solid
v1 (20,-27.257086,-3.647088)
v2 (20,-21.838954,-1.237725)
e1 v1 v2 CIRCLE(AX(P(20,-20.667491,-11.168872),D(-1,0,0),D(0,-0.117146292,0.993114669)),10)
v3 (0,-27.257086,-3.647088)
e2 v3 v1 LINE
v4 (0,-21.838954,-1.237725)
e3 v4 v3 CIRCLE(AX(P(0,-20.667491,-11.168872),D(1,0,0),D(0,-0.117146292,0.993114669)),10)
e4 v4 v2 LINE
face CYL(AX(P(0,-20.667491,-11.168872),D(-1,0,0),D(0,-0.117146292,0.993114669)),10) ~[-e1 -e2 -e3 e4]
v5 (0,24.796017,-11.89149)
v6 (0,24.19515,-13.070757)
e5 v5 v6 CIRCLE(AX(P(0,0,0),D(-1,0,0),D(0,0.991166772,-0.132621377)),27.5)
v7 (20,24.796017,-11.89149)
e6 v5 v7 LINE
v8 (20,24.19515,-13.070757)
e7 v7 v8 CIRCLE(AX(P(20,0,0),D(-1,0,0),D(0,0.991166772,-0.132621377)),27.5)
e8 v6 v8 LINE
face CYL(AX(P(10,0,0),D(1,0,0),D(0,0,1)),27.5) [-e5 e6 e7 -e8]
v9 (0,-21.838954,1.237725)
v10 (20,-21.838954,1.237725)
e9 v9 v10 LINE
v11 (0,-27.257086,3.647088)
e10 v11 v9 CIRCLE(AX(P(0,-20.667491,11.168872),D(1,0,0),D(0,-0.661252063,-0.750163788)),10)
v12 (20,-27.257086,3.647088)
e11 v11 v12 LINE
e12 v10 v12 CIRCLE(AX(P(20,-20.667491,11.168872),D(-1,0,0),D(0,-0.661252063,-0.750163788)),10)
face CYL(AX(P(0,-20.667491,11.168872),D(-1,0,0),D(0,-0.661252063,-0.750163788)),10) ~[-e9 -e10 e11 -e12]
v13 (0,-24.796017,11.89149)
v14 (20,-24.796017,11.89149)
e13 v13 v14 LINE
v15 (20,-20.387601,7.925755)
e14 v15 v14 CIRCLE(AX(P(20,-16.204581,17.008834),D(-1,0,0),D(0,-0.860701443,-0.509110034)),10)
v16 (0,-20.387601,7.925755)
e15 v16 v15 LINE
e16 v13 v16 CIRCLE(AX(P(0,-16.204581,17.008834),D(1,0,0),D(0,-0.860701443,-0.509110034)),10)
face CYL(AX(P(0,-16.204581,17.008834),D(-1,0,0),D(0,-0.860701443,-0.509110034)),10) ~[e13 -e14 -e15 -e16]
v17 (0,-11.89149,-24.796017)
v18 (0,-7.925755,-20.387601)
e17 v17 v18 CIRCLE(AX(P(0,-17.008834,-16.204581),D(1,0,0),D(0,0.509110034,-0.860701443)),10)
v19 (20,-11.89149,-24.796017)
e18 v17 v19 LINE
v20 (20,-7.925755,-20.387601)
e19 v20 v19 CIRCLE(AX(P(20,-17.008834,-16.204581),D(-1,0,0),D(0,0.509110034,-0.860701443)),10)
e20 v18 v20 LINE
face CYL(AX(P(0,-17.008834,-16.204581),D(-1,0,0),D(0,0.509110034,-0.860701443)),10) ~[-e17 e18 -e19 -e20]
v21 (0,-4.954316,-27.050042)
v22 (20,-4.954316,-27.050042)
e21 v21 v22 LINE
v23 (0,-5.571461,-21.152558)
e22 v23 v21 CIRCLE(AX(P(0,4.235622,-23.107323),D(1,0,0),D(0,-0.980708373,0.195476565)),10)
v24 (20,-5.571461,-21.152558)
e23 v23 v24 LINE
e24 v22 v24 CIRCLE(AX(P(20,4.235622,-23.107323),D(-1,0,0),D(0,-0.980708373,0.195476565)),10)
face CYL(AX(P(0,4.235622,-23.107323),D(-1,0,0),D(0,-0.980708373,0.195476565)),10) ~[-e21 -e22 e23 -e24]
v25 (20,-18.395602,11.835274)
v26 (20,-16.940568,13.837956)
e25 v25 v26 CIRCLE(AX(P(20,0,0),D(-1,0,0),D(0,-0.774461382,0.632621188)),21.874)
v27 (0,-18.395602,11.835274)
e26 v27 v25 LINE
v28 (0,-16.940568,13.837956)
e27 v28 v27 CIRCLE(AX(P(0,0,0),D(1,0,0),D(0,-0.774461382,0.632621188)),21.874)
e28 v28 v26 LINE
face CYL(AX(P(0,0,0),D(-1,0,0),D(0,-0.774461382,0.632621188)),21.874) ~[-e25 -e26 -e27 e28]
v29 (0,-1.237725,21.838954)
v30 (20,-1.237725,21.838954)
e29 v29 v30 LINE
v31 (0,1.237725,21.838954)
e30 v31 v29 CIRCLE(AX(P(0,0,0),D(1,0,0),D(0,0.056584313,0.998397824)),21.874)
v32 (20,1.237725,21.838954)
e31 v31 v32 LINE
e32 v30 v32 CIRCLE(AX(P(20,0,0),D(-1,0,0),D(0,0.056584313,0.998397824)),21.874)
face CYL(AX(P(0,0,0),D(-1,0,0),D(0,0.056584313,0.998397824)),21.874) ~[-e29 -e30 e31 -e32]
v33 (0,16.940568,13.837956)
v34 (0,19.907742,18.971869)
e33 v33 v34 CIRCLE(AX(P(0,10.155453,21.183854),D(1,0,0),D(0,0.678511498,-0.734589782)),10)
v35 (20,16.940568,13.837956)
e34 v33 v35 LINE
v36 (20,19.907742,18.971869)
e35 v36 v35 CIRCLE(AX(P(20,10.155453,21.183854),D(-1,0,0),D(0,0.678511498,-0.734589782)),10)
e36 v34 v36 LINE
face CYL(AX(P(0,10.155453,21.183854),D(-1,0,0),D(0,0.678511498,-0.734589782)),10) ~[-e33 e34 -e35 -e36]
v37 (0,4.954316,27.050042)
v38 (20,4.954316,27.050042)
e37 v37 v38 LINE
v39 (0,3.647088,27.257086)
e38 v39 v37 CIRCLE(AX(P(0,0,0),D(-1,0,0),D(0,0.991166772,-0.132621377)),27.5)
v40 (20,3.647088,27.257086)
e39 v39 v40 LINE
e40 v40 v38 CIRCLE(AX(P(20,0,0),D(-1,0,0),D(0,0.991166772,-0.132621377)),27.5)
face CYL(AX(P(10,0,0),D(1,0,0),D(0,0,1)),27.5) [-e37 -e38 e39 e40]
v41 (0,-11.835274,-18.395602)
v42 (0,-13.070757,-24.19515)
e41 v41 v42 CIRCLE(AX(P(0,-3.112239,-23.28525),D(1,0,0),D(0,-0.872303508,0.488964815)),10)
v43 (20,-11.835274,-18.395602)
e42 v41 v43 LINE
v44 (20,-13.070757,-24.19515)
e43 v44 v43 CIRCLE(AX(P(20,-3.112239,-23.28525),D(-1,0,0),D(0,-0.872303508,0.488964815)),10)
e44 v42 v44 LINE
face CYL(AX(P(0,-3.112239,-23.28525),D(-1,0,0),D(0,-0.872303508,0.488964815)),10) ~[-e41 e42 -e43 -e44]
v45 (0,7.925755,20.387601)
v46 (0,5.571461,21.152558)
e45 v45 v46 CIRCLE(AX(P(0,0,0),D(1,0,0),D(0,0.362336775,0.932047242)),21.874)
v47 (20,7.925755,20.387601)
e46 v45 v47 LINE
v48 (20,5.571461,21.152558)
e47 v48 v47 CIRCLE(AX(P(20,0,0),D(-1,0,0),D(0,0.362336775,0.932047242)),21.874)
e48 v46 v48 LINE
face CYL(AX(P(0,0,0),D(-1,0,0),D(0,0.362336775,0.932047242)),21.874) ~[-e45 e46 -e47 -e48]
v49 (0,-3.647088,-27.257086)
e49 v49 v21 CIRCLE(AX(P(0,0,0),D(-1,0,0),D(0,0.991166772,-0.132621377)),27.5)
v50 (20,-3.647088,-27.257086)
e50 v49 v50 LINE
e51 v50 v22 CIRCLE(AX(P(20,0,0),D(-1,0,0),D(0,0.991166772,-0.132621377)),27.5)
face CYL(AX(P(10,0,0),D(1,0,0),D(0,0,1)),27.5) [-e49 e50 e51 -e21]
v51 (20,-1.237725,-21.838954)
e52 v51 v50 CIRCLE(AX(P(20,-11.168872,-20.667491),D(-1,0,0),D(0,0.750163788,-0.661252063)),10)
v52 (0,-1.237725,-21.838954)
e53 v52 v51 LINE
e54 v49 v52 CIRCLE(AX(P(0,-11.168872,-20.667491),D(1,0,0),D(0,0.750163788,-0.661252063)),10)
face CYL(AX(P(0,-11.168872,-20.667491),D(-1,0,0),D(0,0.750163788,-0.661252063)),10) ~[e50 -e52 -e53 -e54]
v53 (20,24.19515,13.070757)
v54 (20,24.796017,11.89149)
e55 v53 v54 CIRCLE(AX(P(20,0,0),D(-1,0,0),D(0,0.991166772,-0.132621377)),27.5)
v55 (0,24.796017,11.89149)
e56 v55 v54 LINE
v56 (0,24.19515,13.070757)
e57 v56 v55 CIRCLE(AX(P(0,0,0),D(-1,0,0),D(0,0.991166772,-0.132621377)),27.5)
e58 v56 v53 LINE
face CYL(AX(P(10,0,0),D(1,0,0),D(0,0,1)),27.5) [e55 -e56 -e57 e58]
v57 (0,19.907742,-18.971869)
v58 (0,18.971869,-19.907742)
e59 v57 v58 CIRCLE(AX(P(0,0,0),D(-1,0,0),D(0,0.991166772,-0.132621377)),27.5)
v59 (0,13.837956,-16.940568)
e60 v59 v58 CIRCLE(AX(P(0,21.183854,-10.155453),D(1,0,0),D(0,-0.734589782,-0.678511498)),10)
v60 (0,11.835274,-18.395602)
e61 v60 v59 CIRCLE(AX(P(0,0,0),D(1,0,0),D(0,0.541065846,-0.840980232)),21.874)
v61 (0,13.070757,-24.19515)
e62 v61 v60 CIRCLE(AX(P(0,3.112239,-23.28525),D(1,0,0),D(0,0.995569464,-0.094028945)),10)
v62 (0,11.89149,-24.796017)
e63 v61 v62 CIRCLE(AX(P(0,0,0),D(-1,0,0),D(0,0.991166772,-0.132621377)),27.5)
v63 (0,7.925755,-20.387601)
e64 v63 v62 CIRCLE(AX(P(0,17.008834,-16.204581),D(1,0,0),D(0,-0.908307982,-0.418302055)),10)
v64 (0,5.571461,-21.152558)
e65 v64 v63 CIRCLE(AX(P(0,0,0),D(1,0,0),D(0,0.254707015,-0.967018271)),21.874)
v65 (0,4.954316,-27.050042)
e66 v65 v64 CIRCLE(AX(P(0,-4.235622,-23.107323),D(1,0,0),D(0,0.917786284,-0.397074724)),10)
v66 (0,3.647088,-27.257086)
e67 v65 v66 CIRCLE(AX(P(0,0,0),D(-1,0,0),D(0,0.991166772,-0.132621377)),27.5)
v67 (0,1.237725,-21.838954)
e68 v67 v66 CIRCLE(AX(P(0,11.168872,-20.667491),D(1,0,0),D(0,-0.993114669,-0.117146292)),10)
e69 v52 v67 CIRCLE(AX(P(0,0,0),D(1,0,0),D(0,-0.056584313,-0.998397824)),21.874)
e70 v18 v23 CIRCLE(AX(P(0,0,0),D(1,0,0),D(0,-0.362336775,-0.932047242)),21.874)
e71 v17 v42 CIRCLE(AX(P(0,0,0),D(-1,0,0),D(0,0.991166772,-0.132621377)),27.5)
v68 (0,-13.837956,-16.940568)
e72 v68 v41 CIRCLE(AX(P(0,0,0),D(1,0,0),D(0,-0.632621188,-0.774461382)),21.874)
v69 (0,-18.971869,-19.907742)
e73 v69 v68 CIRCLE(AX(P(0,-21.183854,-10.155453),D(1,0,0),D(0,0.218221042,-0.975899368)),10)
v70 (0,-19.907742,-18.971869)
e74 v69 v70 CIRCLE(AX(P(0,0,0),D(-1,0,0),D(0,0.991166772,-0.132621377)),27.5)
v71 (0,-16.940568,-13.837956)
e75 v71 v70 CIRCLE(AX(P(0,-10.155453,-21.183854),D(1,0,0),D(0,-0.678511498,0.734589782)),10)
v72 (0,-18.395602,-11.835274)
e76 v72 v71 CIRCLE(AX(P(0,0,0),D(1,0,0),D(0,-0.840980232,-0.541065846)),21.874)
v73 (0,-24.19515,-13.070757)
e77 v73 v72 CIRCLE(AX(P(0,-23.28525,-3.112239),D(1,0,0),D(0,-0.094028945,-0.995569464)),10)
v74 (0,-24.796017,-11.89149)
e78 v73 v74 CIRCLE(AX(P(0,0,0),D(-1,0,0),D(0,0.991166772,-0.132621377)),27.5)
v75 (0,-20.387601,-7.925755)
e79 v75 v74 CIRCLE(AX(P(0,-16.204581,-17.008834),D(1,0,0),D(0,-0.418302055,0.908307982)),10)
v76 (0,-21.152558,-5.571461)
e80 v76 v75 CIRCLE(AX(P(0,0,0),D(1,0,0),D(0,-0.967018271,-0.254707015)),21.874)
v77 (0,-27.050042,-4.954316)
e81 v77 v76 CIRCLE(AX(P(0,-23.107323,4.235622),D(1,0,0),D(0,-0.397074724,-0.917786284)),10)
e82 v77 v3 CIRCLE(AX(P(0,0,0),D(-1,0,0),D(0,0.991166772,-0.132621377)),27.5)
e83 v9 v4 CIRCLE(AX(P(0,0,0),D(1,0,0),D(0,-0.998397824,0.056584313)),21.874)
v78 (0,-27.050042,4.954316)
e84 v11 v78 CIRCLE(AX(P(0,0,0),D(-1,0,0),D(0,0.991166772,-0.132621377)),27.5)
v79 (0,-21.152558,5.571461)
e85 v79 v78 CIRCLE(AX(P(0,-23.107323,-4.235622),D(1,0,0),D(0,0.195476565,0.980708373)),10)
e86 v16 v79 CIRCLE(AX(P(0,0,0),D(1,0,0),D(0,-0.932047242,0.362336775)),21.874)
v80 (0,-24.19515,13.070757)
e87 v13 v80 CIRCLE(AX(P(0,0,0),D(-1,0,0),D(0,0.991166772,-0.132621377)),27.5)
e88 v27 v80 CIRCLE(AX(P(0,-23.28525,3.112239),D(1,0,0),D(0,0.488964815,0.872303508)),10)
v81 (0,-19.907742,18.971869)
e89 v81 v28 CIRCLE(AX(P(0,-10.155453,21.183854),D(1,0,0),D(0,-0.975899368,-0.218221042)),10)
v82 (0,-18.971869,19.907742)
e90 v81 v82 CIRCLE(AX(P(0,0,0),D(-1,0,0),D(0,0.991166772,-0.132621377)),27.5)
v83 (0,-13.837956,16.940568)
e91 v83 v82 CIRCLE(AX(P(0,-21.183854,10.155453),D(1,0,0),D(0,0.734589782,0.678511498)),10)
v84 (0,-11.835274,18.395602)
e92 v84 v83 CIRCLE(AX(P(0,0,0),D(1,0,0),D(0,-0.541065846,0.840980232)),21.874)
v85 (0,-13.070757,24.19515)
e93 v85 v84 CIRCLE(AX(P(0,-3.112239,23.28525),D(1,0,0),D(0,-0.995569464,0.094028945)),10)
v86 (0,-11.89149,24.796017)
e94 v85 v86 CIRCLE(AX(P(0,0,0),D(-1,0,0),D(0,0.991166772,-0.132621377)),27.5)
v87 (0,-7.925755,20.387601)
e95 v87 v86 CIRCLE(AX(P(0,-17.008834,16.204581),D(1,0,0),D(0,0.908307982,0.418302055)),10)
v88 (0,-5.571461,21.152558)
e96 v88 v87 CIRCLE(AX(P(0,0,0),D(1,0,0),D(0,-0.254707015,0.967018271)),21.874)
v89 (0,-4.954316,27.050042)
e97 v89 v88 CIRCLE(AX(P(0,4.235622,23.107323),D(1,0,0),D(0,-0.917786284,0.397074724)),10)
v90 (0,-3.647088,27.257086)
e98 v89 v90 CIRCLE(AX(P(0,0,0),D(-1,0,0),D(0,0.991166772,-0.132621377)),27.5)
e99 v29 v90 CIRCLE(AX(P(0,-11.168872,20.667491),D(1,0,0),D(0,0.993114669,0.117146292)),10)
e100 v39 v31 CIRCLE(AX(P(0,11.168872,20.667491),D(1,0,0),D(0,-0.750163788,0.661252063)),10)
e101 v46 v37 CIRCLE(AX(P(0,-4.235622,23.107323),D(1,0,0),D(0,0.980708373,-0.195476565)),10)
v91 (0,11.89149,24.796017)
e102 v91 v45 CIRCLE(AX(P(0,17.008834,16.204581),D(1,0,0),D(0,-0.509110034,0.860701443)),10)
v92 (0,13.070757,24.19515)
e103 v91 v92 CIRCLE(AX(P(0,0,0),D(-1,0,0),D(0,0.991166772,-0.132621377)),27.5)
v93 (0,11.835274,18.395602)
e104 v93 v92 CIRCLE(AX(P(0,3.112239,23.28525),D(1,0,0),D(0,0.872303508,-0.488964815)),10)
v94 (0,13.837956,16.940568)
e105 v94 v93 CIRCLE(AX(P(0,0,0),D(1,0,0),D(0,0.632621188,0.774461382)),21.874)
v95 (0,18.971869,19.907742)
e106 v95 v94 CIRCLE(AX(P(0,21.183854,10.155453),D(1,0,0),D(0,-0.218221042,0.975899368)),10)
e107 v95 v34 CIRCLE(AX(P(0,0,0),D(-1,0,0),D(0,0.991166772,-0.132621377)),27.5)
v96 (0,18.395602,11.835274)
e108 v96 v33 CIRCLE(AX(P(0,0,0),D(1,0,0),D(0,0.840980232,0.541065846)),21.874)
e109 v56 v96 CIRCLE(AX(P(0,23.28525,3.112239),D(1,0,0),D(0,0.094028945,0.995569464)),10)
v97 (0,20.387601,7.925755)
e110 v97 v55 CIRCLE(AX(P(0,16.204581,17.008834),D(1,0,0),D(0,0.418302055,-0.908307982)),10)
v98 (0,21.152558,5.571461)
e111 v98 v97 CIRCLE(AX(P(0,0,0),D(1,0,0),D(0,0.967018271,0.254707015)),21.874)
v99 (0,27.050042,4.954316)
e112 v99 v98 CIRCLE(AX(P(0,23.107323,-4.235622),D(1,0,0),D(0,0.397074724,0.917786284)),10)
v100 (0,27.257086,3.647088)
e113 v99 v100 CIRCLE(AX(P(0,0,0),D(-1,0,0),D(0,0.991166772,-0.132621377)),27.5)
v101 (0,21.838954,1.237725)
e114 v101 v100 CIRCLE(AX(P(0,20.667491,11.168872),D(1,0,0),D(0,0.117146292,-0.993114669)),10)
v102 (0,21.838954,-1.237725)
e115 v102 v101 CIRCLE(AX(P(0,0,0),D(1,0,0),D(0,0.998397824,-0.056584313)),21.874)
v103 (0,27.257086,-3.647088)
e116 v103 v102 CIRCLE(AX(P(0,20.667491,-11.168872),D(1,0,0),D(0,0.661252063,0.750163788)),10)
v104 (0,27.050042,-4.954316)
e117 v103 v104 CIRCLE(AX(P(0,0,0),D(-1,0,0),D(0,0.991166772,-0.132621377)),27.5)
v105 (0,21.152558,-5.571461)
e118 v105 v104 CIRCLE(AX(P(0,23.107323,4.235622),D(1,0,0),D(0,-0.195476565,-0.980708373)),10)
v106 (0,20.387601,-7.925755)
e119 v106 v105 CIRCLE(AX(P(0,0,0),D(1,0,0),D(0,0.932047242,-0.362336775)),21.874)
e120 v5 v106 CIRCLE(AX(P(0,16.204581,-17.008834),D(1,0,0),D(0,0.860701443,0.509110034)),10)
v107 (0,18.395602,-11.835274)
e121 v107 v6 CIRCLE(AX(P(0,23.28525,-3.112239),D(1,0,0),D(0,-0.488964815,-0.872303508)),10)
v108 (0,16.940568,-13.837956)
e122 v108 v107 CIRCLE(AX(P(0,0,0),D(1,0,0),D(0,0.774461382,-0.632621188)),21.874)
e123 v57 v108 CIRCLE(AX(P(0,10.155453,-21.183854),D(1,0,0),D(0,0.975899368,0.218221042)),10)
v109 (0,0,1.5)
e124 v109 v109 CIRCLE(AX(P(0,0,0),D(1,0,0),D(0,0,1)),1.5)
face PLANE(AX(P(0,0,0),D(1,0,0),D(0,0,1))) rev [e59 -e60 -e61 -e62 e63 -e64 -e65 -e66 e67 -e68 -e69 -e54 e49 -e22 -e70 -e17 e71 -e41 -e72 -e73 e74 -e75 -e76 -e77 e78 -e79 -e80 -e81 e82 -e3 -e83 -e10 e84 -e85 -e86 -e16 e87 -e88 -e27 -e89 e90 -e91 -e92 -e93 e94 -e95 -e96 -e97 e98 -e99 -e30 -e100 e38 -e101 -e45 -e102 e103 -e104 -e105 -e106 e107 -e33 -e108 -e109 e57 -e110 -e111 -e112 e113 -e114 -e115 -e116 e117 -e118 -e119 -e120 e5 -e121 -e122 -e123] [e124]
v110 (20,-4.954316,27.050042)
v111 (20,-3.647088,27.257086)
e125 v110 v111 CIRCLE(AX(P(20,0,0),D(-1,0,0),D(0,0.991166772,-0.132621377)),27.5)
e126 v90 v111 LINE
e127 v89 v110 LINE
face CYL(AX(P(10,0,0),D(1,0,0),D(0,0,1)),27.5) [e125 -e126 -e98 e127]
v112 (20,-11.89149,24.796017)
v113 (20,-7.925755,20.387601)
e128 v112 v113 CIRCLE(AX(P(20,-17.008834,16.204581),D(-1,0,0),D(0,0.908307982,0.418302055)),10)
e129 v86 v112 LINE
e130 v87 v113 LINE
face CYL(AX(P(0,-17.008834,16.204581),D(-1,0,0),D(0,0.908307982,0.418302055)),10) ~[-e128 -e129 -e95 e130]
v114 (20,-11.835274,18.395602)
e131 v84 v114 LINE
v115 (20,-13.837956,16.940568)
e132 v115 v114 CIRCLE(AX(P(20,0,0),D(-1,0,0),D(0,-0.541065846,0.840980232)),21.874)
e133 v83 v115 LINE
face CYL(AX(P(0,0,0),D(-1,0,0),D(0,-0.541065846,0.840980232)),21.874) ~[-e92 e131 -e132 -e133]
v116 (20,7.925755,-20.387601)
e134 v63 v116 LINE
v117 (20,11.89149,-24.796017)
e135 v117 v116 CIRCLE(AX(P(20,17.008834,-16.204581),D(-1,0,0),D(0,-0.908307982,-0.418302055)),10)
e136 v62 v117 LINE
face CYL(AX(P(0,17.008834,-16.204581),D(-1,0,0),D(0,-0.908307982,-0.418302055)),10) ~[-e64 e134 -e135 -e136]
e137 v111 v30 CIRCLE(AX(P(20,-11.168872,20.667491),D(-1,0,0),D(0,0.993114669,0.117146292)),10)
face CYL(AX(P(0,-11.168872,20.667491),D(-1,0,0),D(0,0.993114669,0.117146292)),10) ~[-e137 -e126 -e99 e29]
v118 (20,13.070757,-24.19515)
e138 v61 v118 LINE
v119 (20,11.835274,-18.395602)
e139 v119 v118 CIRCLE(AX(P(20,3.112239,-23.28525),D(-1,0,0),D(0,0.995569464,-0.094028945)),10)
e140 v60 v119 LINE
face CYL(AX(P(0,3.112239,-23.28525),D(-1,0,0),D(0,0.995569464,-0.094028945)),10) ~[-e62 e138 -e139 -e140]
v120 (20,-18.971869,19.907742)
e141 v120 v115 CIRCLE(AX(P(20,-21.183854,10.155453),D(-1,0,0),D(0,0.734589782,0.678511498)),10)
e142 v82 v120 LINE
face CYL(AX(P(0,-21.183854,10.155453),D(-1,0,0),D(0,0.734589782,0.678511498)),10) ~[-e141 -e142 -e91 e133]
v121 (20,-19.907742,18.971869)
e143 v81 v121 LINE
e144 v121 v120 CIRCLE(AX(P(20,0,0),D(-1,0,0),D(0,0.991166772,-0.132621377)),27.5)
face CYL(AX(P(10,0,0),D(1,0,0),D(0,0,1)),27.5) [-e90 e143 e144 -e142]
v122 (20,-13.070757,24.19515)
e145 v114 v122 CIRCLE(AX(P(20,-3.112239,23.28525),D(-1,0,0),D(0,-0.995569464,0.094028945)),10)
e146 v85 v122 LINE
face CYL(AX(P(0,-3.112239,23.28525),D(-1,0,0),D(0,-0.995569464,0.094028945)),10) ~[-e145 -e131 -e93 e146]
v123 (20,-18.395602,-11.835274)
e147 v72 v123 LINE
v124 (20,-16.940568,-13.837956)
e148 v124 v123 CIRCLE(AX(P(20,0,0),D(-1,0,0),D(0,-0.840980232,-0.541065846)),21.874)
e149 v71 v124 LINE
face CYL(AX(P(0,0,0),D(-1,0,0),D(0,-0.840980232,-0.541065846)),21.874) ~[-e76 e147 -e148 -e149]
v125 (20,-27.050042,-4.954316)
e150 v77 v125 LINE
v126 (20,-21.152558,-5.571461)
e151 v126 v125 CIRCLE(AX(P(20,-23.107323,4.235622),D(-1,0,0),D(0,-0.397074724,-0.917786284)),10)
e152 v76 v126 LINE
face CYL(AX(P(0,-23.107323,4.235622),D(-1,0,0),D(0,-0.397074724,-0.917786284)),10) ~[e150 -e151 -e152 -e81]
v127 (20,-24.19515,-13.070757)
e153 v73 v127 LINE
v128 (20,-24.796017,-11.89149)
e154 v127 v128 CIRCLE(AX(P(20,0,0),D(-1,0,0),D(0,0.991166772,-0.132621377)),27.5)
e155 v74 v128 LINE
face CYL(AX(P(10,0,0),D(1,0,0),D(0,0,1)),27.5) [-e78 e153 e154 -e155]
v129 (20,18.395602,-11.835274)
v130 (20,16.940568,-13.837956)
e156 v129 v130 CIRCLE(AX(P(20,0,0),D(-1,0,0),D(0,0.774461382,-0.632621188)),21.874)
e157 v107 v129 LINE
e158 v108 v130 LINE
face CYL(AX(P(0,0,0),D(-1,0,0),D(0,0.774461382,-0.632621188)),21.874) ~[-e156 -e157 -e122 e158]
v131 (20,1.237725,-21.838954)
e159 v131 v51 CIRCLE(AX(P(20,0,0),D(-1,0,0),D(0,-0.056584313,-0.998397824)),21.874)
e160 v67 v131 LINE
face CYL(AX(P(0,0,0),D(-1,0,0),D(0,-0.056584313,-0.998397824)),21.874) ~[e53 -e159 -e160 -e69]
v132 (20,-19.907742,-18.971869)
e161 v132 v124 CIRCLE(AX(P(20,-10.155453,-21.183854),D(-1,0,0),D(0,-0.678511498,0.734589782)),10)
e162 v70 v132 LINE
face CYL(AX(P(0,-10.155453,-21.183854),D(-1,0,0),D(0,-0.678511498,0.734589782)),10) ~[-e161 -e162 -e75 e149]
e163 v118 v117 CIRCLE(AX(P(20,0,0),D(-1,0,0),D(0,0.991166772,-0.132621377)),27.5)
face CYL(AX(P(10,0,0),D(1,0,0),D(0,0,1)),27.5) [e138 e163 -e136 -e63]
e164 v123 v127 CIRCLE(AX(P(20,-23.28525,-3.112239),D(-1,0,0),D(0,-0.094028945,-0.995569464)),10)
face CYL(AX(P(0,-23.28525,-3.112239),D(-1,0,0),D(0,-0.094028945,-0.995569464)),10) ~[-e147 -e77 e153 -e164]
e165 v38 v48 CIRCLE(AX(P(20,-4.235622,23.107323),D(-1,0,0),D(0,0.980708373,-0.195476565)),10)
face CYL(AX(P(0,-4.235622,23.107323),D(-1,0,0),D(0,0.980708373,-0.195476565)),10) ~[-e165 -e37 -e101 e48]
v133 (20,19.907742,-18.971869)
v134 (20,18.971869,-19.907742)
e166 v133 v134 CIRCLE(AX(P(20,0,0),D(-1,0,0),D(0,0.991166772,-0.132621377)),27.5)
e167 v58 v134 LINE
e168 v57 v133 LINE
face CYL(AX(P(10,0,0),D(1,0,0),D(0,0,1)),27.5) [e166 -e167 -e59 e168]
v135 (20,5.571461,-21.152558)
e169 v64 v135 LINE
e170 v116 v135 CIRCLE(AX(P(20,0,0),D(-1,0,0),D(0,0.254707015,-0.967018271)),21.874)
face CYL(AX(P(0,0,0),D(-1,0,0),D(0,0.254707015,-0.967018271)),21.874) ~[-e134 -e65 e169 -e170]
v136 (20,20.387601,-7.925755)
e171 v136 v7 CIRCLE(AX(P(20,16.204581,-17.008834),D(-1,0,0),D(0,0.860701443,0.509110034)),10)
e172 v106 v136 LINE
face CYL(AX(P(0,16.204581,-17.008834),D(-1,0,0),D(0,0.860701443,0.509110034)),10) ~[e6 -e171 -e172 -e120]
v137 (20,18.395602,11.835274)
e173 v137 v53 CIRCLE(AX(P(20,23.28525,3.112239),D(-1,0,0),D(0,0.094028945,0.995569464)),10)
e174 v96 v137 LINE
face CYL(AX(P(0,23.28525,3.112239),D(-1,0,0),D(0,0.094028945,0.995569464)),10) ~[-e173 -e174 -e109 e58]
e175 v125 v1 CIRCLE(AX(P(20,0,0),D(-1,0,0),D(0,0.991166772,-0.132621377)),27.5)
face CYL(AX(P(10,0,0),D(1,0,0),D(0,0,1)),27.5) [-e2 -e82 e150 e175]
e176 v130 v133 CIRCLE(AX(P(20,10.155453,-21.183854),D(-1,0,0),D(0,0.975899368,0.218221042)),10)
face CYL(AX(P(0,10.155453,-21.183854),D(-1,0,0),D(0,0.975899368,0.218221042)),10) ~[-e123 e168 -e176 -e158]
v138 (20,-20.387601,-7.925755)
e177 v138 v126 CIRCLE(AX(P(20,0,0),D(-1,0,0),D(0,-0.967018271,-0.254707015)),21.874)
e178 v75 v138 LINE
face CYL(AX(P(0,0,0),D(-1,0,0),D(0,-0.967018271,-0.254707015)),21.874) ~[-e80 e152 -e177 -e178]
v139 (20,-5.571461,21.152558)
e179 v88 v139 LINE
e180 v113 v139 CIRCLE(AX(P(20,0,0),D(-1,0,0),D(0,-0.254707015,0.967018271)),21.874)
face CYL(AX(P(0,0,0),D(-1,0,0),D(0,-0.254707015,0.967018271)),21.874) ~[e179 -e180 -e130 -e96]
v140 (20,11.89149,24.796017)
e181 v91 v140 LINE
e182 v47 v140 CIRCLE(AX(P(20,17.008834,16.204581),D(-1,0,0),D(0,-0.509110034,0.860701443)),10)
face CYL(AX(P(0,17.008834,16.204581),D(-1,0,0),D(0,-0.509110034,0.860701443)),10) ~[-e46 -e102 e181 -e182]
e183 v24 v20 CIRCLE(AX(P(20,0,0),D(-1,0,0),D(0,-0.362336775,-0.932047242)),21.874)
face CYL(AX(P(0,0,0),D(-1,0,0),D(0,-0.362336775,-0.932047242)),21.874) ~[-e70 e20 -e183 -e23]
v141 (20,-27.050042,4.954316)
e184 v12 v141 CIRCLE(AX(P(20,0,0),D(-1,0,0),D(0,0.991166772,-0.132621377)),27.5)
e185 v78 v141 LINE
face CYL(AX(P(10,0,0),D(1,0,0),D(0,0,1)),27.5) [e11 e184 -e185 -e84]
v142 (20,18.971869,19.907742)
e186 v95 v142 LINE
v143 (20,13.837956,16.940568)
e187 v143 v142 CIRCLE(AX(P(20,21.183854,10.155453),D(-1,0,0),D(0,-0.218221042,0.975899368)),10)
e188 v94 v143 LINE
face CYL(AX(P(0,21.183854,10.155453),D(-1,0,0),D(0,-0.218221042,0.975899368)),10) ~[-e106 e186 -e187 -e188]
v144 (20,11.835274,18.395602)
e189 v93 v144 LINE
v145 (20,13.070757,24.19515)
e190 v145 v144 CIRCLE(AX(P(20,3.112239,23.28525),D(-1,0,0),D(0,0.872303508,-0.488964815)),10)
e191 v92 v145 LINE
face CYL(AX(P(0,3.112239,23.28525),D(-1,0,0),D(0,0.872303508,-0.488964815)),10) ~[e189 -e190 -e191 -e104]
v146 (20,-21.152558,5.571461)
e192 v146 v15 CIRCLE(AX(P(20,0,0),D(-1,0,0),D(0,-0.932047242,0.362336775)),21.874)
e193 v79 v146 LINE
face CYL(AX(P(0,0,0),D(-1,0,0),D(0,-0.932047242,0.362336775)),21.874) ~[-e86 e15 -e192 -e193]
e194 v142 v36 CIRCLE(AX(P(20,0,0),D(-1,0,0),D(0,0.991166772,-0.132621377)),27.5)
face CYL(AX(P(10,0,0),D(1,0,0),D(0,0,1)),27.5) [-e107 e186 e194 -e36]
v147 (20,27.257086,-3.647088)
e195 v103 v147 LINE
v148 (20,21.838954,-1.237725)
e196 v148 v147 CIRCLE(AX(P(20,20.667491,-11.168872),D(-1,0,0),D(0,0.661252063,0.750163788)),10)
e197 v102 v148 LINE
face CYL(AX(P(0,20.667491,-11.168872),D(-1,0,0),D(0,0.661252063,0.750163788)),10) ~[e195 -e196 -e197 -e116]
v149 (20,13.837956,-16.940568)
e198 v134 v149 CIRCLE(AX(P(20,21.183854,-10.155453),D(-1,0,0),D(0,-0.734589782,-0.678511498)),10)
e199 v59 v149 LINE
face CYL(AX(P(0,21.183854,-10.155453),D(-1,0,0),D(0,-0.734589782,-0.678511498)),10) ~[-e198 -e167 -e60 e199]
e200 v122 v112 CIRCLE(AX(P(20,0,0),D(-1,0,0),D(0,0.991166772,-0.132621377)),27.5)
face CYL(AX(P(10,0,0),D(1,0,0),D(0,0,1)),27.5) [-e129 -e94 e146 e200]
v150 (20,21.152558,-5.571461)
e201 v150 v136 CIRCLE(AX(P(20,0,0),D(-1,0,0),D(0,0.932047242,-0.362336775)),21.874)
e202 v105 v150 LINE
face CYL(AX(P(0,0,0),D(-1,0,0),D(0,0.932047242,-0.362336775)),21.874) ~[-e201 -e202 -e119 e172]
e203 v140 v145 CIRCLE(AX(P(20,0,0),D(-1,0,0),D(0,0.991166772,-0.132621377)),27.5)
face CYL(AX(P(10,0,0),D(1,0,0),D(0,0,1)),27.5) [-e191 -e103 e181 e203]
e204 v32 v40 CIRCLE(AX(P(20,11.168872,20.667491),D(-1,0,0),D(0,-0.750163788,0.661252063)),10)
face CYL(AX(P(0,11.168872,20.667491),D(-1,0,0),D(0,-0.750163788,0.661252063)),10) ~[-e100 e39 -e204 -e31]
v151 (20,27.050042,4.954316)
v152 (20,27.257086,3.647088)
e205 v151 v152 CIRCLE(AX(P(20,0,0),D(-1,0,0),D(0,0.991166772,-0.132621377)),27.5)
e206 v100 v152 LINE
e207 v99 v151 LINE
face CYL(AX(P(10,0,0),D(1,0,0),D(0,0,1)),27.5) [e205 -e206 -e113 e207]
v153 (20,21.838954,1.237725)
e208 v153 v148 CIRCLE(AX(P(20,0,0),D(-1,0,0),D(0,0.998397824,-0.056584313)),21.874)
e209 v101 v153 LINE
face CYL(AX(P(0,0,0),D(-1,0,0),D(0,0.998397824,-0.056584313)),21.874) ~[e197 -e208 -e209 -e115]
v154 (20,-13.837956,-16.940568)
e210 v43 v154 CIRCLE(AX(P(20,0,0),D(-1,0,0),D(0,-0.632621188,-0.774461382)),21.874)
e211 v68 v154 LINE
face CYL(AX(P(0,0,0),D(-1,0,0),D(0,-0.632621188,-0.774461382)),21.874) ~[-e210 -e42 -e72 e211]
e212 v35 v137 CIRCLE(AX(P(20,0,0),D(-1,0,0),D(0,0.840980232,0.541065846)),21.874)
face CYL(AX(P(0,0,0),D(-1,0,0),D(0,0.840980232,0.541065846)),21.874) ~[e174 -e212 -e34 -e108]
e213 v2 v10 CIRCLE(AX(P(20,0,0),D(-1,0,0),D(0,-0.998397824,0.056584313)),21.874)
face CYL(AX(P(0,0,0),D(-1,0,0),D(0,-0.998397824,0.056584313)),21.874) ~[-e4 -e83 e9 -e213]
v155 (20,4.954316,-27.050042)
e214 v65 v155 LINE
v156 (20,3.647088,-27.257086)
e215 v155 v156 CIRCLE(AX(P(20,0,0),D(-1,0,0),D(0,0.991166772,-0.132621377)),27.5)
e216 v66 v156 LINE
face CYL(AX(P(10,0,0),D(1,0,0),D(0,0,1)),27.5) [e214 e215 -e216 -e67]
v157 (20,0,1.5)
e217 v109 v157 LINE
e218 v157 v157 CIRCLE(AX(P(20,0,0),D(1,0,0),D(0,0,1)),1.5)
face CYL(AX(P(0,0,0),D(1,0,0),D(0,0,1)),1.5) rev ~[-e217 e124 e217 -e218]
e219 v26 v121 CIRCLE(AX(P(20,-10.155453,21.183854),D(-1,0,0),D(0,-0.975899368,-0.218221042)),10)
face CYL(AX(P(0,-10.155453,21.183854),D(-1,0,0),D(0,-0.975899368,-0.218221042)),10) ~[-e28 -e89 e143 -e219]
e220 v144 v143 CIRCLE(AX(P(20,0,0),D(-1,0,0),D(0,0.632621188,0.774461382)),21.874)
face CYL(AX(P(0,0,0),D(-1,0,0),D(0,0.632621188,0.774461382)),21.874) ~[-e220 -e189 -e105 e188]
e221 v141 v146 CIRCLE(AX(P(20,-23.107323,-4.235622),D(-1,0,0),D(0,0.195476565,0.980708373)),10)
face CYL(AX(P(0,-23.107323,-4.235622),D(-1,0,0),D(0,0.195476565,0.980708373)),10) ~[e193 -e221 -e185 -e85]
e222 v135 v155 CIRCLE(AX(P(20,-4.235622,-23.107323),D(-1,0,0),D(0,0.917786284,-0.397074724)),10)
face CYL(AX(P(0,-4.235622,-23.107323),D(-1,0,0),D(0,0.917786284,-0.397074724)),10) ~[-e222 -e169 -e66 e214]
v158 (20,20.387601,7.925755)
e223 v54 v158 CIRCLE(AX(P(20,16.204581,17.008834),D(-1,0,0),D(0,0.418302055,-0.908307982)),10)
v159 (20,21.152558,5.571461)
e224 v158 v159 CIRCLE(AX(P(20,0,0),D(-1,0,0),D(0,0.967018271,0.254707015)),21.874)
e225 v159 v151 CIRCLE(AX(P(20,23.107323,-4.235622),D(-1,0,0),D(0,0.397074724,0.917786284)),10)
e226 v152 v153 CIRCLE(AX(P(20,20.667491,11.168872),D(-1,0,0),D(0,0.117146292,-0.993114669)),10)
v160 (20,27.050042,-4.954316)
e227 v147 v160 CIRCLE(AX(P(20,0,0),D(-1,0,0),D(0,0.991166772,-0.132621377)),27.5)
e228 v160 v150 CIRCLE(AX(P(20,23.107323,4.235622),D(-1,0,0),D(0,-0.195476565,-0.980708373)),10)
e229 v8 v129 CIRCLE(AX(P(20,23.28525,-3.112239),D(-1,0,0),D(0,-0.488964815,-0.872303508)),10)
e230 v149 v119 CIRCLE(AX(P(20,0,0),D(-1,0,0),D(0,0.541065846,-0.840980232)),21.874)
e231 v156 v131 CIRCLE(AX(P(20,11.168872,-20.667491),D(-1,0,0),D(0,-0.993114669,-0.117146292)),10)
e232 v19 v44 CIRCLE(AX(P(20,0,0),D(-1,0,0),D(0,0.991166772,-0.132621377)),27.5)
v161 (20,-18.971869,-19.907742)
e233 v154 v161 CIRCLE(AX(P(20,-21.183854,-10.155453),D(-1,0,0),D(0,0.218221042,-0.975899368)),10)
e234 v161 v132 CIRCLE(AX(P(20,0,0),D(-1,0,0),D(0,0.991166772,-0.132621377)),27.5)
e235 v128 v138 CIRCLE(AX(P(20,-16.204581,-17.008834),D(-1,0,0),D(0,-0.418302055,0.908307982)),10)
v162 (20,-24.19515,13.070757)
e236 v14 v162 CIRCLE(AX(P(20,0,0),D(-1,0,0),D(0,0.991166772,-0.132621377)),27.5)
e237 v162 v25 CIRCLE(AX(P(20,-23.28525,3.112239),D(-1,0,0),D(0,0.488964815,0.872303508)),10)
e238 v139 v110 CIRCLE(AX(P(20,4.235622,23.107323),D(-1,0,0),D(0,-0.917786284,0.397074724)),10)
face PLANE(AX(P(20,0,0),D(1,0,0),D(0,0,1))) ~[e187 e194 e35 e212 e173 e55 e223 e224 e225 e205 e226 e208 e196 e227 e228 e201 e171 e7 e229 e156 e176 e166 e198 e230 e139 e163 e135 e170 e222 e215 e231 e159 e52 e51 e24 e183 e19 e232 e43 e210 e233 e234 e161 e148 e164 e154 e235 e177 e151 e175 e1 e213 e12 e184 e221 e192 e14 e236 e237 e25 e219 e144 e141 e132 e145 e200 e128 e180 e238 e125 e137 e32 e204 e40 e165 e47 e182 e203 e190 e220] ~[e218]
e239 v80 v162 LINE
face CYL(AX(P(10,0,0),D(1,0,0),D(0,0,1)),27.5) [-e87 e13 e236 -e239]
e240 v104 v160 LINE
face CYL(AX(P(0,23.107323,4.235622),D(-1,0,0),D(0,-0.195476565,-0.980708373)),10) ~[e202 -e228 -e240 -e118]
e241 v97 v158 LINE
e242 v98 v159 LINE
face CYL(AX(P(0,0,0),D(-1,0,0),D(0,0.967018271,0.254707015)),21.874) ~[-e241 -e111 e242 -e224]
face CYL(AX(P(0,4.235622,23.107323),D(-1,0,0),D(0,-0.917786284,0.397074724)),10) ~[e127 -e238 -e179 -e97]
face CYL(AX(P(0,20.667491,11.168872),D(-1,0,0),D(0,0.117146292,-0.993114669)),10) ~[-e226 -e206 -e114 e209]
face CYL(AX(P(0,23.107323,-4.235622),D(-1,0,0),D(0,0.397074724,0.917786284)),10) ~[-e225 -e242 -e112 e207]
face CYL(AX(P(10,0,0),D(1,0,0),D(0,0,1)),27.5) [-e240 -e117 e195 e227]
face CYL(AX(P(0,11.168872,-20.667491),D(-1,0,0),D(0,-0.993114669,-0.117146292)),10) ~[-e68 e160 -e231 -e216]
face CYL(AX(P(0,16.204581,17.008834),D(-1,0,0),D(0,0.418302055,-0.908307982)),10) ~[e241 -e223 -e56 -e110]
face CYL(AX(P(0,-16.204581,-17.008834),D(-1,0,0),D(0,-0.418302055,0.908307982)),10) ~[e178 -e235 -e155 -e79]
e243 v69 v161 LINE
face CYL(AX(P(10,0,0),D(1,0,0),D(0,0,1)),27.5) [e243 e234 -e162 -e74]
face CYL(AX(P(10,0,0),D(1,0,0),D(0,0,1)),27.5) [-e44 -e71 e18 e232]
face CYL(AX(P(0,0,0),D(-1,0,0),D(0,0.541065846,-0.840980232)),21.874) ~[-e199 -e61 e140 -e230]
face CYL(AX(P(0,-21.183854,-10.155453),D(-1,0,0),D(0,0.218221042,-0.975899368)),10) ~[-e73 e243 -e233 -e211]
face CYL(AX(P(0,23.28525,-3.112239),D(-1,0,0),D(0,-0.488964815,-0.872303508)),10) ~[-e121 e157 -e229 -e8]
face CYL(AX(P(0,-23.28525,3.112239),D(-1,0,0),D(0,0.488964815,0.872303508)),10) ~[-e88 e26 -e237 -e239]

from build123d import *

# Parameters (mm, degrees)
BASPROSKE_W     = 20
BASPROSKE_H     = 27.5
TOOTHCUT_DEPTH  = 44.732139211
TEETHCUTS_COUNT = 20
TEETHCUTS_ANGLE = 342
BORSKE_R        = 1.5
BORE_DEPTH      = 50.0000508


with BuildPart() as part:
    # BasProSke → Base-Revolve (revolve)
    with BuildSketch(Plane(origin=(0, 0, 0), x_dir=(1, 0, 0), z_dir=(0, 1, 0)), mode=Mode.PRIVATE) as base_revolve_sk:
        with Locations((10, 13.75)):
            Rectangle(BASPROSKE_W, BASPROSKE_H)
    revolve(base_revolve_sk.sketch.rotate(Axis((-10, 0, 0), (1, 0, 0)), 180), axis=Axis((-10, 0, 0), (1, 0, 0)))

    # TooCutSke → ToothCut (cut, through all)
    with BuildSketch(Plane(origin=(0, 0, 0), x_dir=(0, 0, -1), z_dir=(1, 0, 0))):
        with BuildLine():
            ThreePointArc((1.237725267, 21.838954008), (0, 21.874), (-1.237725267, 21.838954008))
            ThreePointArc((-1.237725267, 21.838954008), (-2.037783758, 24.744650423), (-3.667234079, 27.280011719))
            ThreePointArc((-3.667234079, 27.280011719), (0, 27.5254), (3.667234079, 27.280011719))
            ThreePointArc((3.667234079, 27.280011719), (2.037783758, 24.744650423), (1.237725267, 21.838954008))
        make_face()
    toothcut = extrude(amount=TOOTHCUT_DEPTH, mode=Mode.SUBTRACT)

    # TeethCuts: ToothCut ×20 about axis
    teethcuts_axis = Axis((-10, 0, 0), (1, 0, 0))
    for i in range(1, TEETHCUTS_COUNT):
        add(toothcut.rotate(teethcuts_axis, i * TEETHCUTS_ANGLE / (TEETHCUTS_COUNT - 1)), mode=Mode.SUBTRACT)

    # BorSke → Bore (cut, symmetric)
    with BuildSketch(Plane(origin=(0, 0, 0), x_dir=(0, 0, -1), z_dir=(1, 0, 0))):
        with Locations(Location((0, 0, 0), (0, 0, 180))):
            Circle(BORSKE_R)
    extrude(amount=BORE_DEPTH, both=True, mode=Mode.SUBTRACT)


solid = part.part
